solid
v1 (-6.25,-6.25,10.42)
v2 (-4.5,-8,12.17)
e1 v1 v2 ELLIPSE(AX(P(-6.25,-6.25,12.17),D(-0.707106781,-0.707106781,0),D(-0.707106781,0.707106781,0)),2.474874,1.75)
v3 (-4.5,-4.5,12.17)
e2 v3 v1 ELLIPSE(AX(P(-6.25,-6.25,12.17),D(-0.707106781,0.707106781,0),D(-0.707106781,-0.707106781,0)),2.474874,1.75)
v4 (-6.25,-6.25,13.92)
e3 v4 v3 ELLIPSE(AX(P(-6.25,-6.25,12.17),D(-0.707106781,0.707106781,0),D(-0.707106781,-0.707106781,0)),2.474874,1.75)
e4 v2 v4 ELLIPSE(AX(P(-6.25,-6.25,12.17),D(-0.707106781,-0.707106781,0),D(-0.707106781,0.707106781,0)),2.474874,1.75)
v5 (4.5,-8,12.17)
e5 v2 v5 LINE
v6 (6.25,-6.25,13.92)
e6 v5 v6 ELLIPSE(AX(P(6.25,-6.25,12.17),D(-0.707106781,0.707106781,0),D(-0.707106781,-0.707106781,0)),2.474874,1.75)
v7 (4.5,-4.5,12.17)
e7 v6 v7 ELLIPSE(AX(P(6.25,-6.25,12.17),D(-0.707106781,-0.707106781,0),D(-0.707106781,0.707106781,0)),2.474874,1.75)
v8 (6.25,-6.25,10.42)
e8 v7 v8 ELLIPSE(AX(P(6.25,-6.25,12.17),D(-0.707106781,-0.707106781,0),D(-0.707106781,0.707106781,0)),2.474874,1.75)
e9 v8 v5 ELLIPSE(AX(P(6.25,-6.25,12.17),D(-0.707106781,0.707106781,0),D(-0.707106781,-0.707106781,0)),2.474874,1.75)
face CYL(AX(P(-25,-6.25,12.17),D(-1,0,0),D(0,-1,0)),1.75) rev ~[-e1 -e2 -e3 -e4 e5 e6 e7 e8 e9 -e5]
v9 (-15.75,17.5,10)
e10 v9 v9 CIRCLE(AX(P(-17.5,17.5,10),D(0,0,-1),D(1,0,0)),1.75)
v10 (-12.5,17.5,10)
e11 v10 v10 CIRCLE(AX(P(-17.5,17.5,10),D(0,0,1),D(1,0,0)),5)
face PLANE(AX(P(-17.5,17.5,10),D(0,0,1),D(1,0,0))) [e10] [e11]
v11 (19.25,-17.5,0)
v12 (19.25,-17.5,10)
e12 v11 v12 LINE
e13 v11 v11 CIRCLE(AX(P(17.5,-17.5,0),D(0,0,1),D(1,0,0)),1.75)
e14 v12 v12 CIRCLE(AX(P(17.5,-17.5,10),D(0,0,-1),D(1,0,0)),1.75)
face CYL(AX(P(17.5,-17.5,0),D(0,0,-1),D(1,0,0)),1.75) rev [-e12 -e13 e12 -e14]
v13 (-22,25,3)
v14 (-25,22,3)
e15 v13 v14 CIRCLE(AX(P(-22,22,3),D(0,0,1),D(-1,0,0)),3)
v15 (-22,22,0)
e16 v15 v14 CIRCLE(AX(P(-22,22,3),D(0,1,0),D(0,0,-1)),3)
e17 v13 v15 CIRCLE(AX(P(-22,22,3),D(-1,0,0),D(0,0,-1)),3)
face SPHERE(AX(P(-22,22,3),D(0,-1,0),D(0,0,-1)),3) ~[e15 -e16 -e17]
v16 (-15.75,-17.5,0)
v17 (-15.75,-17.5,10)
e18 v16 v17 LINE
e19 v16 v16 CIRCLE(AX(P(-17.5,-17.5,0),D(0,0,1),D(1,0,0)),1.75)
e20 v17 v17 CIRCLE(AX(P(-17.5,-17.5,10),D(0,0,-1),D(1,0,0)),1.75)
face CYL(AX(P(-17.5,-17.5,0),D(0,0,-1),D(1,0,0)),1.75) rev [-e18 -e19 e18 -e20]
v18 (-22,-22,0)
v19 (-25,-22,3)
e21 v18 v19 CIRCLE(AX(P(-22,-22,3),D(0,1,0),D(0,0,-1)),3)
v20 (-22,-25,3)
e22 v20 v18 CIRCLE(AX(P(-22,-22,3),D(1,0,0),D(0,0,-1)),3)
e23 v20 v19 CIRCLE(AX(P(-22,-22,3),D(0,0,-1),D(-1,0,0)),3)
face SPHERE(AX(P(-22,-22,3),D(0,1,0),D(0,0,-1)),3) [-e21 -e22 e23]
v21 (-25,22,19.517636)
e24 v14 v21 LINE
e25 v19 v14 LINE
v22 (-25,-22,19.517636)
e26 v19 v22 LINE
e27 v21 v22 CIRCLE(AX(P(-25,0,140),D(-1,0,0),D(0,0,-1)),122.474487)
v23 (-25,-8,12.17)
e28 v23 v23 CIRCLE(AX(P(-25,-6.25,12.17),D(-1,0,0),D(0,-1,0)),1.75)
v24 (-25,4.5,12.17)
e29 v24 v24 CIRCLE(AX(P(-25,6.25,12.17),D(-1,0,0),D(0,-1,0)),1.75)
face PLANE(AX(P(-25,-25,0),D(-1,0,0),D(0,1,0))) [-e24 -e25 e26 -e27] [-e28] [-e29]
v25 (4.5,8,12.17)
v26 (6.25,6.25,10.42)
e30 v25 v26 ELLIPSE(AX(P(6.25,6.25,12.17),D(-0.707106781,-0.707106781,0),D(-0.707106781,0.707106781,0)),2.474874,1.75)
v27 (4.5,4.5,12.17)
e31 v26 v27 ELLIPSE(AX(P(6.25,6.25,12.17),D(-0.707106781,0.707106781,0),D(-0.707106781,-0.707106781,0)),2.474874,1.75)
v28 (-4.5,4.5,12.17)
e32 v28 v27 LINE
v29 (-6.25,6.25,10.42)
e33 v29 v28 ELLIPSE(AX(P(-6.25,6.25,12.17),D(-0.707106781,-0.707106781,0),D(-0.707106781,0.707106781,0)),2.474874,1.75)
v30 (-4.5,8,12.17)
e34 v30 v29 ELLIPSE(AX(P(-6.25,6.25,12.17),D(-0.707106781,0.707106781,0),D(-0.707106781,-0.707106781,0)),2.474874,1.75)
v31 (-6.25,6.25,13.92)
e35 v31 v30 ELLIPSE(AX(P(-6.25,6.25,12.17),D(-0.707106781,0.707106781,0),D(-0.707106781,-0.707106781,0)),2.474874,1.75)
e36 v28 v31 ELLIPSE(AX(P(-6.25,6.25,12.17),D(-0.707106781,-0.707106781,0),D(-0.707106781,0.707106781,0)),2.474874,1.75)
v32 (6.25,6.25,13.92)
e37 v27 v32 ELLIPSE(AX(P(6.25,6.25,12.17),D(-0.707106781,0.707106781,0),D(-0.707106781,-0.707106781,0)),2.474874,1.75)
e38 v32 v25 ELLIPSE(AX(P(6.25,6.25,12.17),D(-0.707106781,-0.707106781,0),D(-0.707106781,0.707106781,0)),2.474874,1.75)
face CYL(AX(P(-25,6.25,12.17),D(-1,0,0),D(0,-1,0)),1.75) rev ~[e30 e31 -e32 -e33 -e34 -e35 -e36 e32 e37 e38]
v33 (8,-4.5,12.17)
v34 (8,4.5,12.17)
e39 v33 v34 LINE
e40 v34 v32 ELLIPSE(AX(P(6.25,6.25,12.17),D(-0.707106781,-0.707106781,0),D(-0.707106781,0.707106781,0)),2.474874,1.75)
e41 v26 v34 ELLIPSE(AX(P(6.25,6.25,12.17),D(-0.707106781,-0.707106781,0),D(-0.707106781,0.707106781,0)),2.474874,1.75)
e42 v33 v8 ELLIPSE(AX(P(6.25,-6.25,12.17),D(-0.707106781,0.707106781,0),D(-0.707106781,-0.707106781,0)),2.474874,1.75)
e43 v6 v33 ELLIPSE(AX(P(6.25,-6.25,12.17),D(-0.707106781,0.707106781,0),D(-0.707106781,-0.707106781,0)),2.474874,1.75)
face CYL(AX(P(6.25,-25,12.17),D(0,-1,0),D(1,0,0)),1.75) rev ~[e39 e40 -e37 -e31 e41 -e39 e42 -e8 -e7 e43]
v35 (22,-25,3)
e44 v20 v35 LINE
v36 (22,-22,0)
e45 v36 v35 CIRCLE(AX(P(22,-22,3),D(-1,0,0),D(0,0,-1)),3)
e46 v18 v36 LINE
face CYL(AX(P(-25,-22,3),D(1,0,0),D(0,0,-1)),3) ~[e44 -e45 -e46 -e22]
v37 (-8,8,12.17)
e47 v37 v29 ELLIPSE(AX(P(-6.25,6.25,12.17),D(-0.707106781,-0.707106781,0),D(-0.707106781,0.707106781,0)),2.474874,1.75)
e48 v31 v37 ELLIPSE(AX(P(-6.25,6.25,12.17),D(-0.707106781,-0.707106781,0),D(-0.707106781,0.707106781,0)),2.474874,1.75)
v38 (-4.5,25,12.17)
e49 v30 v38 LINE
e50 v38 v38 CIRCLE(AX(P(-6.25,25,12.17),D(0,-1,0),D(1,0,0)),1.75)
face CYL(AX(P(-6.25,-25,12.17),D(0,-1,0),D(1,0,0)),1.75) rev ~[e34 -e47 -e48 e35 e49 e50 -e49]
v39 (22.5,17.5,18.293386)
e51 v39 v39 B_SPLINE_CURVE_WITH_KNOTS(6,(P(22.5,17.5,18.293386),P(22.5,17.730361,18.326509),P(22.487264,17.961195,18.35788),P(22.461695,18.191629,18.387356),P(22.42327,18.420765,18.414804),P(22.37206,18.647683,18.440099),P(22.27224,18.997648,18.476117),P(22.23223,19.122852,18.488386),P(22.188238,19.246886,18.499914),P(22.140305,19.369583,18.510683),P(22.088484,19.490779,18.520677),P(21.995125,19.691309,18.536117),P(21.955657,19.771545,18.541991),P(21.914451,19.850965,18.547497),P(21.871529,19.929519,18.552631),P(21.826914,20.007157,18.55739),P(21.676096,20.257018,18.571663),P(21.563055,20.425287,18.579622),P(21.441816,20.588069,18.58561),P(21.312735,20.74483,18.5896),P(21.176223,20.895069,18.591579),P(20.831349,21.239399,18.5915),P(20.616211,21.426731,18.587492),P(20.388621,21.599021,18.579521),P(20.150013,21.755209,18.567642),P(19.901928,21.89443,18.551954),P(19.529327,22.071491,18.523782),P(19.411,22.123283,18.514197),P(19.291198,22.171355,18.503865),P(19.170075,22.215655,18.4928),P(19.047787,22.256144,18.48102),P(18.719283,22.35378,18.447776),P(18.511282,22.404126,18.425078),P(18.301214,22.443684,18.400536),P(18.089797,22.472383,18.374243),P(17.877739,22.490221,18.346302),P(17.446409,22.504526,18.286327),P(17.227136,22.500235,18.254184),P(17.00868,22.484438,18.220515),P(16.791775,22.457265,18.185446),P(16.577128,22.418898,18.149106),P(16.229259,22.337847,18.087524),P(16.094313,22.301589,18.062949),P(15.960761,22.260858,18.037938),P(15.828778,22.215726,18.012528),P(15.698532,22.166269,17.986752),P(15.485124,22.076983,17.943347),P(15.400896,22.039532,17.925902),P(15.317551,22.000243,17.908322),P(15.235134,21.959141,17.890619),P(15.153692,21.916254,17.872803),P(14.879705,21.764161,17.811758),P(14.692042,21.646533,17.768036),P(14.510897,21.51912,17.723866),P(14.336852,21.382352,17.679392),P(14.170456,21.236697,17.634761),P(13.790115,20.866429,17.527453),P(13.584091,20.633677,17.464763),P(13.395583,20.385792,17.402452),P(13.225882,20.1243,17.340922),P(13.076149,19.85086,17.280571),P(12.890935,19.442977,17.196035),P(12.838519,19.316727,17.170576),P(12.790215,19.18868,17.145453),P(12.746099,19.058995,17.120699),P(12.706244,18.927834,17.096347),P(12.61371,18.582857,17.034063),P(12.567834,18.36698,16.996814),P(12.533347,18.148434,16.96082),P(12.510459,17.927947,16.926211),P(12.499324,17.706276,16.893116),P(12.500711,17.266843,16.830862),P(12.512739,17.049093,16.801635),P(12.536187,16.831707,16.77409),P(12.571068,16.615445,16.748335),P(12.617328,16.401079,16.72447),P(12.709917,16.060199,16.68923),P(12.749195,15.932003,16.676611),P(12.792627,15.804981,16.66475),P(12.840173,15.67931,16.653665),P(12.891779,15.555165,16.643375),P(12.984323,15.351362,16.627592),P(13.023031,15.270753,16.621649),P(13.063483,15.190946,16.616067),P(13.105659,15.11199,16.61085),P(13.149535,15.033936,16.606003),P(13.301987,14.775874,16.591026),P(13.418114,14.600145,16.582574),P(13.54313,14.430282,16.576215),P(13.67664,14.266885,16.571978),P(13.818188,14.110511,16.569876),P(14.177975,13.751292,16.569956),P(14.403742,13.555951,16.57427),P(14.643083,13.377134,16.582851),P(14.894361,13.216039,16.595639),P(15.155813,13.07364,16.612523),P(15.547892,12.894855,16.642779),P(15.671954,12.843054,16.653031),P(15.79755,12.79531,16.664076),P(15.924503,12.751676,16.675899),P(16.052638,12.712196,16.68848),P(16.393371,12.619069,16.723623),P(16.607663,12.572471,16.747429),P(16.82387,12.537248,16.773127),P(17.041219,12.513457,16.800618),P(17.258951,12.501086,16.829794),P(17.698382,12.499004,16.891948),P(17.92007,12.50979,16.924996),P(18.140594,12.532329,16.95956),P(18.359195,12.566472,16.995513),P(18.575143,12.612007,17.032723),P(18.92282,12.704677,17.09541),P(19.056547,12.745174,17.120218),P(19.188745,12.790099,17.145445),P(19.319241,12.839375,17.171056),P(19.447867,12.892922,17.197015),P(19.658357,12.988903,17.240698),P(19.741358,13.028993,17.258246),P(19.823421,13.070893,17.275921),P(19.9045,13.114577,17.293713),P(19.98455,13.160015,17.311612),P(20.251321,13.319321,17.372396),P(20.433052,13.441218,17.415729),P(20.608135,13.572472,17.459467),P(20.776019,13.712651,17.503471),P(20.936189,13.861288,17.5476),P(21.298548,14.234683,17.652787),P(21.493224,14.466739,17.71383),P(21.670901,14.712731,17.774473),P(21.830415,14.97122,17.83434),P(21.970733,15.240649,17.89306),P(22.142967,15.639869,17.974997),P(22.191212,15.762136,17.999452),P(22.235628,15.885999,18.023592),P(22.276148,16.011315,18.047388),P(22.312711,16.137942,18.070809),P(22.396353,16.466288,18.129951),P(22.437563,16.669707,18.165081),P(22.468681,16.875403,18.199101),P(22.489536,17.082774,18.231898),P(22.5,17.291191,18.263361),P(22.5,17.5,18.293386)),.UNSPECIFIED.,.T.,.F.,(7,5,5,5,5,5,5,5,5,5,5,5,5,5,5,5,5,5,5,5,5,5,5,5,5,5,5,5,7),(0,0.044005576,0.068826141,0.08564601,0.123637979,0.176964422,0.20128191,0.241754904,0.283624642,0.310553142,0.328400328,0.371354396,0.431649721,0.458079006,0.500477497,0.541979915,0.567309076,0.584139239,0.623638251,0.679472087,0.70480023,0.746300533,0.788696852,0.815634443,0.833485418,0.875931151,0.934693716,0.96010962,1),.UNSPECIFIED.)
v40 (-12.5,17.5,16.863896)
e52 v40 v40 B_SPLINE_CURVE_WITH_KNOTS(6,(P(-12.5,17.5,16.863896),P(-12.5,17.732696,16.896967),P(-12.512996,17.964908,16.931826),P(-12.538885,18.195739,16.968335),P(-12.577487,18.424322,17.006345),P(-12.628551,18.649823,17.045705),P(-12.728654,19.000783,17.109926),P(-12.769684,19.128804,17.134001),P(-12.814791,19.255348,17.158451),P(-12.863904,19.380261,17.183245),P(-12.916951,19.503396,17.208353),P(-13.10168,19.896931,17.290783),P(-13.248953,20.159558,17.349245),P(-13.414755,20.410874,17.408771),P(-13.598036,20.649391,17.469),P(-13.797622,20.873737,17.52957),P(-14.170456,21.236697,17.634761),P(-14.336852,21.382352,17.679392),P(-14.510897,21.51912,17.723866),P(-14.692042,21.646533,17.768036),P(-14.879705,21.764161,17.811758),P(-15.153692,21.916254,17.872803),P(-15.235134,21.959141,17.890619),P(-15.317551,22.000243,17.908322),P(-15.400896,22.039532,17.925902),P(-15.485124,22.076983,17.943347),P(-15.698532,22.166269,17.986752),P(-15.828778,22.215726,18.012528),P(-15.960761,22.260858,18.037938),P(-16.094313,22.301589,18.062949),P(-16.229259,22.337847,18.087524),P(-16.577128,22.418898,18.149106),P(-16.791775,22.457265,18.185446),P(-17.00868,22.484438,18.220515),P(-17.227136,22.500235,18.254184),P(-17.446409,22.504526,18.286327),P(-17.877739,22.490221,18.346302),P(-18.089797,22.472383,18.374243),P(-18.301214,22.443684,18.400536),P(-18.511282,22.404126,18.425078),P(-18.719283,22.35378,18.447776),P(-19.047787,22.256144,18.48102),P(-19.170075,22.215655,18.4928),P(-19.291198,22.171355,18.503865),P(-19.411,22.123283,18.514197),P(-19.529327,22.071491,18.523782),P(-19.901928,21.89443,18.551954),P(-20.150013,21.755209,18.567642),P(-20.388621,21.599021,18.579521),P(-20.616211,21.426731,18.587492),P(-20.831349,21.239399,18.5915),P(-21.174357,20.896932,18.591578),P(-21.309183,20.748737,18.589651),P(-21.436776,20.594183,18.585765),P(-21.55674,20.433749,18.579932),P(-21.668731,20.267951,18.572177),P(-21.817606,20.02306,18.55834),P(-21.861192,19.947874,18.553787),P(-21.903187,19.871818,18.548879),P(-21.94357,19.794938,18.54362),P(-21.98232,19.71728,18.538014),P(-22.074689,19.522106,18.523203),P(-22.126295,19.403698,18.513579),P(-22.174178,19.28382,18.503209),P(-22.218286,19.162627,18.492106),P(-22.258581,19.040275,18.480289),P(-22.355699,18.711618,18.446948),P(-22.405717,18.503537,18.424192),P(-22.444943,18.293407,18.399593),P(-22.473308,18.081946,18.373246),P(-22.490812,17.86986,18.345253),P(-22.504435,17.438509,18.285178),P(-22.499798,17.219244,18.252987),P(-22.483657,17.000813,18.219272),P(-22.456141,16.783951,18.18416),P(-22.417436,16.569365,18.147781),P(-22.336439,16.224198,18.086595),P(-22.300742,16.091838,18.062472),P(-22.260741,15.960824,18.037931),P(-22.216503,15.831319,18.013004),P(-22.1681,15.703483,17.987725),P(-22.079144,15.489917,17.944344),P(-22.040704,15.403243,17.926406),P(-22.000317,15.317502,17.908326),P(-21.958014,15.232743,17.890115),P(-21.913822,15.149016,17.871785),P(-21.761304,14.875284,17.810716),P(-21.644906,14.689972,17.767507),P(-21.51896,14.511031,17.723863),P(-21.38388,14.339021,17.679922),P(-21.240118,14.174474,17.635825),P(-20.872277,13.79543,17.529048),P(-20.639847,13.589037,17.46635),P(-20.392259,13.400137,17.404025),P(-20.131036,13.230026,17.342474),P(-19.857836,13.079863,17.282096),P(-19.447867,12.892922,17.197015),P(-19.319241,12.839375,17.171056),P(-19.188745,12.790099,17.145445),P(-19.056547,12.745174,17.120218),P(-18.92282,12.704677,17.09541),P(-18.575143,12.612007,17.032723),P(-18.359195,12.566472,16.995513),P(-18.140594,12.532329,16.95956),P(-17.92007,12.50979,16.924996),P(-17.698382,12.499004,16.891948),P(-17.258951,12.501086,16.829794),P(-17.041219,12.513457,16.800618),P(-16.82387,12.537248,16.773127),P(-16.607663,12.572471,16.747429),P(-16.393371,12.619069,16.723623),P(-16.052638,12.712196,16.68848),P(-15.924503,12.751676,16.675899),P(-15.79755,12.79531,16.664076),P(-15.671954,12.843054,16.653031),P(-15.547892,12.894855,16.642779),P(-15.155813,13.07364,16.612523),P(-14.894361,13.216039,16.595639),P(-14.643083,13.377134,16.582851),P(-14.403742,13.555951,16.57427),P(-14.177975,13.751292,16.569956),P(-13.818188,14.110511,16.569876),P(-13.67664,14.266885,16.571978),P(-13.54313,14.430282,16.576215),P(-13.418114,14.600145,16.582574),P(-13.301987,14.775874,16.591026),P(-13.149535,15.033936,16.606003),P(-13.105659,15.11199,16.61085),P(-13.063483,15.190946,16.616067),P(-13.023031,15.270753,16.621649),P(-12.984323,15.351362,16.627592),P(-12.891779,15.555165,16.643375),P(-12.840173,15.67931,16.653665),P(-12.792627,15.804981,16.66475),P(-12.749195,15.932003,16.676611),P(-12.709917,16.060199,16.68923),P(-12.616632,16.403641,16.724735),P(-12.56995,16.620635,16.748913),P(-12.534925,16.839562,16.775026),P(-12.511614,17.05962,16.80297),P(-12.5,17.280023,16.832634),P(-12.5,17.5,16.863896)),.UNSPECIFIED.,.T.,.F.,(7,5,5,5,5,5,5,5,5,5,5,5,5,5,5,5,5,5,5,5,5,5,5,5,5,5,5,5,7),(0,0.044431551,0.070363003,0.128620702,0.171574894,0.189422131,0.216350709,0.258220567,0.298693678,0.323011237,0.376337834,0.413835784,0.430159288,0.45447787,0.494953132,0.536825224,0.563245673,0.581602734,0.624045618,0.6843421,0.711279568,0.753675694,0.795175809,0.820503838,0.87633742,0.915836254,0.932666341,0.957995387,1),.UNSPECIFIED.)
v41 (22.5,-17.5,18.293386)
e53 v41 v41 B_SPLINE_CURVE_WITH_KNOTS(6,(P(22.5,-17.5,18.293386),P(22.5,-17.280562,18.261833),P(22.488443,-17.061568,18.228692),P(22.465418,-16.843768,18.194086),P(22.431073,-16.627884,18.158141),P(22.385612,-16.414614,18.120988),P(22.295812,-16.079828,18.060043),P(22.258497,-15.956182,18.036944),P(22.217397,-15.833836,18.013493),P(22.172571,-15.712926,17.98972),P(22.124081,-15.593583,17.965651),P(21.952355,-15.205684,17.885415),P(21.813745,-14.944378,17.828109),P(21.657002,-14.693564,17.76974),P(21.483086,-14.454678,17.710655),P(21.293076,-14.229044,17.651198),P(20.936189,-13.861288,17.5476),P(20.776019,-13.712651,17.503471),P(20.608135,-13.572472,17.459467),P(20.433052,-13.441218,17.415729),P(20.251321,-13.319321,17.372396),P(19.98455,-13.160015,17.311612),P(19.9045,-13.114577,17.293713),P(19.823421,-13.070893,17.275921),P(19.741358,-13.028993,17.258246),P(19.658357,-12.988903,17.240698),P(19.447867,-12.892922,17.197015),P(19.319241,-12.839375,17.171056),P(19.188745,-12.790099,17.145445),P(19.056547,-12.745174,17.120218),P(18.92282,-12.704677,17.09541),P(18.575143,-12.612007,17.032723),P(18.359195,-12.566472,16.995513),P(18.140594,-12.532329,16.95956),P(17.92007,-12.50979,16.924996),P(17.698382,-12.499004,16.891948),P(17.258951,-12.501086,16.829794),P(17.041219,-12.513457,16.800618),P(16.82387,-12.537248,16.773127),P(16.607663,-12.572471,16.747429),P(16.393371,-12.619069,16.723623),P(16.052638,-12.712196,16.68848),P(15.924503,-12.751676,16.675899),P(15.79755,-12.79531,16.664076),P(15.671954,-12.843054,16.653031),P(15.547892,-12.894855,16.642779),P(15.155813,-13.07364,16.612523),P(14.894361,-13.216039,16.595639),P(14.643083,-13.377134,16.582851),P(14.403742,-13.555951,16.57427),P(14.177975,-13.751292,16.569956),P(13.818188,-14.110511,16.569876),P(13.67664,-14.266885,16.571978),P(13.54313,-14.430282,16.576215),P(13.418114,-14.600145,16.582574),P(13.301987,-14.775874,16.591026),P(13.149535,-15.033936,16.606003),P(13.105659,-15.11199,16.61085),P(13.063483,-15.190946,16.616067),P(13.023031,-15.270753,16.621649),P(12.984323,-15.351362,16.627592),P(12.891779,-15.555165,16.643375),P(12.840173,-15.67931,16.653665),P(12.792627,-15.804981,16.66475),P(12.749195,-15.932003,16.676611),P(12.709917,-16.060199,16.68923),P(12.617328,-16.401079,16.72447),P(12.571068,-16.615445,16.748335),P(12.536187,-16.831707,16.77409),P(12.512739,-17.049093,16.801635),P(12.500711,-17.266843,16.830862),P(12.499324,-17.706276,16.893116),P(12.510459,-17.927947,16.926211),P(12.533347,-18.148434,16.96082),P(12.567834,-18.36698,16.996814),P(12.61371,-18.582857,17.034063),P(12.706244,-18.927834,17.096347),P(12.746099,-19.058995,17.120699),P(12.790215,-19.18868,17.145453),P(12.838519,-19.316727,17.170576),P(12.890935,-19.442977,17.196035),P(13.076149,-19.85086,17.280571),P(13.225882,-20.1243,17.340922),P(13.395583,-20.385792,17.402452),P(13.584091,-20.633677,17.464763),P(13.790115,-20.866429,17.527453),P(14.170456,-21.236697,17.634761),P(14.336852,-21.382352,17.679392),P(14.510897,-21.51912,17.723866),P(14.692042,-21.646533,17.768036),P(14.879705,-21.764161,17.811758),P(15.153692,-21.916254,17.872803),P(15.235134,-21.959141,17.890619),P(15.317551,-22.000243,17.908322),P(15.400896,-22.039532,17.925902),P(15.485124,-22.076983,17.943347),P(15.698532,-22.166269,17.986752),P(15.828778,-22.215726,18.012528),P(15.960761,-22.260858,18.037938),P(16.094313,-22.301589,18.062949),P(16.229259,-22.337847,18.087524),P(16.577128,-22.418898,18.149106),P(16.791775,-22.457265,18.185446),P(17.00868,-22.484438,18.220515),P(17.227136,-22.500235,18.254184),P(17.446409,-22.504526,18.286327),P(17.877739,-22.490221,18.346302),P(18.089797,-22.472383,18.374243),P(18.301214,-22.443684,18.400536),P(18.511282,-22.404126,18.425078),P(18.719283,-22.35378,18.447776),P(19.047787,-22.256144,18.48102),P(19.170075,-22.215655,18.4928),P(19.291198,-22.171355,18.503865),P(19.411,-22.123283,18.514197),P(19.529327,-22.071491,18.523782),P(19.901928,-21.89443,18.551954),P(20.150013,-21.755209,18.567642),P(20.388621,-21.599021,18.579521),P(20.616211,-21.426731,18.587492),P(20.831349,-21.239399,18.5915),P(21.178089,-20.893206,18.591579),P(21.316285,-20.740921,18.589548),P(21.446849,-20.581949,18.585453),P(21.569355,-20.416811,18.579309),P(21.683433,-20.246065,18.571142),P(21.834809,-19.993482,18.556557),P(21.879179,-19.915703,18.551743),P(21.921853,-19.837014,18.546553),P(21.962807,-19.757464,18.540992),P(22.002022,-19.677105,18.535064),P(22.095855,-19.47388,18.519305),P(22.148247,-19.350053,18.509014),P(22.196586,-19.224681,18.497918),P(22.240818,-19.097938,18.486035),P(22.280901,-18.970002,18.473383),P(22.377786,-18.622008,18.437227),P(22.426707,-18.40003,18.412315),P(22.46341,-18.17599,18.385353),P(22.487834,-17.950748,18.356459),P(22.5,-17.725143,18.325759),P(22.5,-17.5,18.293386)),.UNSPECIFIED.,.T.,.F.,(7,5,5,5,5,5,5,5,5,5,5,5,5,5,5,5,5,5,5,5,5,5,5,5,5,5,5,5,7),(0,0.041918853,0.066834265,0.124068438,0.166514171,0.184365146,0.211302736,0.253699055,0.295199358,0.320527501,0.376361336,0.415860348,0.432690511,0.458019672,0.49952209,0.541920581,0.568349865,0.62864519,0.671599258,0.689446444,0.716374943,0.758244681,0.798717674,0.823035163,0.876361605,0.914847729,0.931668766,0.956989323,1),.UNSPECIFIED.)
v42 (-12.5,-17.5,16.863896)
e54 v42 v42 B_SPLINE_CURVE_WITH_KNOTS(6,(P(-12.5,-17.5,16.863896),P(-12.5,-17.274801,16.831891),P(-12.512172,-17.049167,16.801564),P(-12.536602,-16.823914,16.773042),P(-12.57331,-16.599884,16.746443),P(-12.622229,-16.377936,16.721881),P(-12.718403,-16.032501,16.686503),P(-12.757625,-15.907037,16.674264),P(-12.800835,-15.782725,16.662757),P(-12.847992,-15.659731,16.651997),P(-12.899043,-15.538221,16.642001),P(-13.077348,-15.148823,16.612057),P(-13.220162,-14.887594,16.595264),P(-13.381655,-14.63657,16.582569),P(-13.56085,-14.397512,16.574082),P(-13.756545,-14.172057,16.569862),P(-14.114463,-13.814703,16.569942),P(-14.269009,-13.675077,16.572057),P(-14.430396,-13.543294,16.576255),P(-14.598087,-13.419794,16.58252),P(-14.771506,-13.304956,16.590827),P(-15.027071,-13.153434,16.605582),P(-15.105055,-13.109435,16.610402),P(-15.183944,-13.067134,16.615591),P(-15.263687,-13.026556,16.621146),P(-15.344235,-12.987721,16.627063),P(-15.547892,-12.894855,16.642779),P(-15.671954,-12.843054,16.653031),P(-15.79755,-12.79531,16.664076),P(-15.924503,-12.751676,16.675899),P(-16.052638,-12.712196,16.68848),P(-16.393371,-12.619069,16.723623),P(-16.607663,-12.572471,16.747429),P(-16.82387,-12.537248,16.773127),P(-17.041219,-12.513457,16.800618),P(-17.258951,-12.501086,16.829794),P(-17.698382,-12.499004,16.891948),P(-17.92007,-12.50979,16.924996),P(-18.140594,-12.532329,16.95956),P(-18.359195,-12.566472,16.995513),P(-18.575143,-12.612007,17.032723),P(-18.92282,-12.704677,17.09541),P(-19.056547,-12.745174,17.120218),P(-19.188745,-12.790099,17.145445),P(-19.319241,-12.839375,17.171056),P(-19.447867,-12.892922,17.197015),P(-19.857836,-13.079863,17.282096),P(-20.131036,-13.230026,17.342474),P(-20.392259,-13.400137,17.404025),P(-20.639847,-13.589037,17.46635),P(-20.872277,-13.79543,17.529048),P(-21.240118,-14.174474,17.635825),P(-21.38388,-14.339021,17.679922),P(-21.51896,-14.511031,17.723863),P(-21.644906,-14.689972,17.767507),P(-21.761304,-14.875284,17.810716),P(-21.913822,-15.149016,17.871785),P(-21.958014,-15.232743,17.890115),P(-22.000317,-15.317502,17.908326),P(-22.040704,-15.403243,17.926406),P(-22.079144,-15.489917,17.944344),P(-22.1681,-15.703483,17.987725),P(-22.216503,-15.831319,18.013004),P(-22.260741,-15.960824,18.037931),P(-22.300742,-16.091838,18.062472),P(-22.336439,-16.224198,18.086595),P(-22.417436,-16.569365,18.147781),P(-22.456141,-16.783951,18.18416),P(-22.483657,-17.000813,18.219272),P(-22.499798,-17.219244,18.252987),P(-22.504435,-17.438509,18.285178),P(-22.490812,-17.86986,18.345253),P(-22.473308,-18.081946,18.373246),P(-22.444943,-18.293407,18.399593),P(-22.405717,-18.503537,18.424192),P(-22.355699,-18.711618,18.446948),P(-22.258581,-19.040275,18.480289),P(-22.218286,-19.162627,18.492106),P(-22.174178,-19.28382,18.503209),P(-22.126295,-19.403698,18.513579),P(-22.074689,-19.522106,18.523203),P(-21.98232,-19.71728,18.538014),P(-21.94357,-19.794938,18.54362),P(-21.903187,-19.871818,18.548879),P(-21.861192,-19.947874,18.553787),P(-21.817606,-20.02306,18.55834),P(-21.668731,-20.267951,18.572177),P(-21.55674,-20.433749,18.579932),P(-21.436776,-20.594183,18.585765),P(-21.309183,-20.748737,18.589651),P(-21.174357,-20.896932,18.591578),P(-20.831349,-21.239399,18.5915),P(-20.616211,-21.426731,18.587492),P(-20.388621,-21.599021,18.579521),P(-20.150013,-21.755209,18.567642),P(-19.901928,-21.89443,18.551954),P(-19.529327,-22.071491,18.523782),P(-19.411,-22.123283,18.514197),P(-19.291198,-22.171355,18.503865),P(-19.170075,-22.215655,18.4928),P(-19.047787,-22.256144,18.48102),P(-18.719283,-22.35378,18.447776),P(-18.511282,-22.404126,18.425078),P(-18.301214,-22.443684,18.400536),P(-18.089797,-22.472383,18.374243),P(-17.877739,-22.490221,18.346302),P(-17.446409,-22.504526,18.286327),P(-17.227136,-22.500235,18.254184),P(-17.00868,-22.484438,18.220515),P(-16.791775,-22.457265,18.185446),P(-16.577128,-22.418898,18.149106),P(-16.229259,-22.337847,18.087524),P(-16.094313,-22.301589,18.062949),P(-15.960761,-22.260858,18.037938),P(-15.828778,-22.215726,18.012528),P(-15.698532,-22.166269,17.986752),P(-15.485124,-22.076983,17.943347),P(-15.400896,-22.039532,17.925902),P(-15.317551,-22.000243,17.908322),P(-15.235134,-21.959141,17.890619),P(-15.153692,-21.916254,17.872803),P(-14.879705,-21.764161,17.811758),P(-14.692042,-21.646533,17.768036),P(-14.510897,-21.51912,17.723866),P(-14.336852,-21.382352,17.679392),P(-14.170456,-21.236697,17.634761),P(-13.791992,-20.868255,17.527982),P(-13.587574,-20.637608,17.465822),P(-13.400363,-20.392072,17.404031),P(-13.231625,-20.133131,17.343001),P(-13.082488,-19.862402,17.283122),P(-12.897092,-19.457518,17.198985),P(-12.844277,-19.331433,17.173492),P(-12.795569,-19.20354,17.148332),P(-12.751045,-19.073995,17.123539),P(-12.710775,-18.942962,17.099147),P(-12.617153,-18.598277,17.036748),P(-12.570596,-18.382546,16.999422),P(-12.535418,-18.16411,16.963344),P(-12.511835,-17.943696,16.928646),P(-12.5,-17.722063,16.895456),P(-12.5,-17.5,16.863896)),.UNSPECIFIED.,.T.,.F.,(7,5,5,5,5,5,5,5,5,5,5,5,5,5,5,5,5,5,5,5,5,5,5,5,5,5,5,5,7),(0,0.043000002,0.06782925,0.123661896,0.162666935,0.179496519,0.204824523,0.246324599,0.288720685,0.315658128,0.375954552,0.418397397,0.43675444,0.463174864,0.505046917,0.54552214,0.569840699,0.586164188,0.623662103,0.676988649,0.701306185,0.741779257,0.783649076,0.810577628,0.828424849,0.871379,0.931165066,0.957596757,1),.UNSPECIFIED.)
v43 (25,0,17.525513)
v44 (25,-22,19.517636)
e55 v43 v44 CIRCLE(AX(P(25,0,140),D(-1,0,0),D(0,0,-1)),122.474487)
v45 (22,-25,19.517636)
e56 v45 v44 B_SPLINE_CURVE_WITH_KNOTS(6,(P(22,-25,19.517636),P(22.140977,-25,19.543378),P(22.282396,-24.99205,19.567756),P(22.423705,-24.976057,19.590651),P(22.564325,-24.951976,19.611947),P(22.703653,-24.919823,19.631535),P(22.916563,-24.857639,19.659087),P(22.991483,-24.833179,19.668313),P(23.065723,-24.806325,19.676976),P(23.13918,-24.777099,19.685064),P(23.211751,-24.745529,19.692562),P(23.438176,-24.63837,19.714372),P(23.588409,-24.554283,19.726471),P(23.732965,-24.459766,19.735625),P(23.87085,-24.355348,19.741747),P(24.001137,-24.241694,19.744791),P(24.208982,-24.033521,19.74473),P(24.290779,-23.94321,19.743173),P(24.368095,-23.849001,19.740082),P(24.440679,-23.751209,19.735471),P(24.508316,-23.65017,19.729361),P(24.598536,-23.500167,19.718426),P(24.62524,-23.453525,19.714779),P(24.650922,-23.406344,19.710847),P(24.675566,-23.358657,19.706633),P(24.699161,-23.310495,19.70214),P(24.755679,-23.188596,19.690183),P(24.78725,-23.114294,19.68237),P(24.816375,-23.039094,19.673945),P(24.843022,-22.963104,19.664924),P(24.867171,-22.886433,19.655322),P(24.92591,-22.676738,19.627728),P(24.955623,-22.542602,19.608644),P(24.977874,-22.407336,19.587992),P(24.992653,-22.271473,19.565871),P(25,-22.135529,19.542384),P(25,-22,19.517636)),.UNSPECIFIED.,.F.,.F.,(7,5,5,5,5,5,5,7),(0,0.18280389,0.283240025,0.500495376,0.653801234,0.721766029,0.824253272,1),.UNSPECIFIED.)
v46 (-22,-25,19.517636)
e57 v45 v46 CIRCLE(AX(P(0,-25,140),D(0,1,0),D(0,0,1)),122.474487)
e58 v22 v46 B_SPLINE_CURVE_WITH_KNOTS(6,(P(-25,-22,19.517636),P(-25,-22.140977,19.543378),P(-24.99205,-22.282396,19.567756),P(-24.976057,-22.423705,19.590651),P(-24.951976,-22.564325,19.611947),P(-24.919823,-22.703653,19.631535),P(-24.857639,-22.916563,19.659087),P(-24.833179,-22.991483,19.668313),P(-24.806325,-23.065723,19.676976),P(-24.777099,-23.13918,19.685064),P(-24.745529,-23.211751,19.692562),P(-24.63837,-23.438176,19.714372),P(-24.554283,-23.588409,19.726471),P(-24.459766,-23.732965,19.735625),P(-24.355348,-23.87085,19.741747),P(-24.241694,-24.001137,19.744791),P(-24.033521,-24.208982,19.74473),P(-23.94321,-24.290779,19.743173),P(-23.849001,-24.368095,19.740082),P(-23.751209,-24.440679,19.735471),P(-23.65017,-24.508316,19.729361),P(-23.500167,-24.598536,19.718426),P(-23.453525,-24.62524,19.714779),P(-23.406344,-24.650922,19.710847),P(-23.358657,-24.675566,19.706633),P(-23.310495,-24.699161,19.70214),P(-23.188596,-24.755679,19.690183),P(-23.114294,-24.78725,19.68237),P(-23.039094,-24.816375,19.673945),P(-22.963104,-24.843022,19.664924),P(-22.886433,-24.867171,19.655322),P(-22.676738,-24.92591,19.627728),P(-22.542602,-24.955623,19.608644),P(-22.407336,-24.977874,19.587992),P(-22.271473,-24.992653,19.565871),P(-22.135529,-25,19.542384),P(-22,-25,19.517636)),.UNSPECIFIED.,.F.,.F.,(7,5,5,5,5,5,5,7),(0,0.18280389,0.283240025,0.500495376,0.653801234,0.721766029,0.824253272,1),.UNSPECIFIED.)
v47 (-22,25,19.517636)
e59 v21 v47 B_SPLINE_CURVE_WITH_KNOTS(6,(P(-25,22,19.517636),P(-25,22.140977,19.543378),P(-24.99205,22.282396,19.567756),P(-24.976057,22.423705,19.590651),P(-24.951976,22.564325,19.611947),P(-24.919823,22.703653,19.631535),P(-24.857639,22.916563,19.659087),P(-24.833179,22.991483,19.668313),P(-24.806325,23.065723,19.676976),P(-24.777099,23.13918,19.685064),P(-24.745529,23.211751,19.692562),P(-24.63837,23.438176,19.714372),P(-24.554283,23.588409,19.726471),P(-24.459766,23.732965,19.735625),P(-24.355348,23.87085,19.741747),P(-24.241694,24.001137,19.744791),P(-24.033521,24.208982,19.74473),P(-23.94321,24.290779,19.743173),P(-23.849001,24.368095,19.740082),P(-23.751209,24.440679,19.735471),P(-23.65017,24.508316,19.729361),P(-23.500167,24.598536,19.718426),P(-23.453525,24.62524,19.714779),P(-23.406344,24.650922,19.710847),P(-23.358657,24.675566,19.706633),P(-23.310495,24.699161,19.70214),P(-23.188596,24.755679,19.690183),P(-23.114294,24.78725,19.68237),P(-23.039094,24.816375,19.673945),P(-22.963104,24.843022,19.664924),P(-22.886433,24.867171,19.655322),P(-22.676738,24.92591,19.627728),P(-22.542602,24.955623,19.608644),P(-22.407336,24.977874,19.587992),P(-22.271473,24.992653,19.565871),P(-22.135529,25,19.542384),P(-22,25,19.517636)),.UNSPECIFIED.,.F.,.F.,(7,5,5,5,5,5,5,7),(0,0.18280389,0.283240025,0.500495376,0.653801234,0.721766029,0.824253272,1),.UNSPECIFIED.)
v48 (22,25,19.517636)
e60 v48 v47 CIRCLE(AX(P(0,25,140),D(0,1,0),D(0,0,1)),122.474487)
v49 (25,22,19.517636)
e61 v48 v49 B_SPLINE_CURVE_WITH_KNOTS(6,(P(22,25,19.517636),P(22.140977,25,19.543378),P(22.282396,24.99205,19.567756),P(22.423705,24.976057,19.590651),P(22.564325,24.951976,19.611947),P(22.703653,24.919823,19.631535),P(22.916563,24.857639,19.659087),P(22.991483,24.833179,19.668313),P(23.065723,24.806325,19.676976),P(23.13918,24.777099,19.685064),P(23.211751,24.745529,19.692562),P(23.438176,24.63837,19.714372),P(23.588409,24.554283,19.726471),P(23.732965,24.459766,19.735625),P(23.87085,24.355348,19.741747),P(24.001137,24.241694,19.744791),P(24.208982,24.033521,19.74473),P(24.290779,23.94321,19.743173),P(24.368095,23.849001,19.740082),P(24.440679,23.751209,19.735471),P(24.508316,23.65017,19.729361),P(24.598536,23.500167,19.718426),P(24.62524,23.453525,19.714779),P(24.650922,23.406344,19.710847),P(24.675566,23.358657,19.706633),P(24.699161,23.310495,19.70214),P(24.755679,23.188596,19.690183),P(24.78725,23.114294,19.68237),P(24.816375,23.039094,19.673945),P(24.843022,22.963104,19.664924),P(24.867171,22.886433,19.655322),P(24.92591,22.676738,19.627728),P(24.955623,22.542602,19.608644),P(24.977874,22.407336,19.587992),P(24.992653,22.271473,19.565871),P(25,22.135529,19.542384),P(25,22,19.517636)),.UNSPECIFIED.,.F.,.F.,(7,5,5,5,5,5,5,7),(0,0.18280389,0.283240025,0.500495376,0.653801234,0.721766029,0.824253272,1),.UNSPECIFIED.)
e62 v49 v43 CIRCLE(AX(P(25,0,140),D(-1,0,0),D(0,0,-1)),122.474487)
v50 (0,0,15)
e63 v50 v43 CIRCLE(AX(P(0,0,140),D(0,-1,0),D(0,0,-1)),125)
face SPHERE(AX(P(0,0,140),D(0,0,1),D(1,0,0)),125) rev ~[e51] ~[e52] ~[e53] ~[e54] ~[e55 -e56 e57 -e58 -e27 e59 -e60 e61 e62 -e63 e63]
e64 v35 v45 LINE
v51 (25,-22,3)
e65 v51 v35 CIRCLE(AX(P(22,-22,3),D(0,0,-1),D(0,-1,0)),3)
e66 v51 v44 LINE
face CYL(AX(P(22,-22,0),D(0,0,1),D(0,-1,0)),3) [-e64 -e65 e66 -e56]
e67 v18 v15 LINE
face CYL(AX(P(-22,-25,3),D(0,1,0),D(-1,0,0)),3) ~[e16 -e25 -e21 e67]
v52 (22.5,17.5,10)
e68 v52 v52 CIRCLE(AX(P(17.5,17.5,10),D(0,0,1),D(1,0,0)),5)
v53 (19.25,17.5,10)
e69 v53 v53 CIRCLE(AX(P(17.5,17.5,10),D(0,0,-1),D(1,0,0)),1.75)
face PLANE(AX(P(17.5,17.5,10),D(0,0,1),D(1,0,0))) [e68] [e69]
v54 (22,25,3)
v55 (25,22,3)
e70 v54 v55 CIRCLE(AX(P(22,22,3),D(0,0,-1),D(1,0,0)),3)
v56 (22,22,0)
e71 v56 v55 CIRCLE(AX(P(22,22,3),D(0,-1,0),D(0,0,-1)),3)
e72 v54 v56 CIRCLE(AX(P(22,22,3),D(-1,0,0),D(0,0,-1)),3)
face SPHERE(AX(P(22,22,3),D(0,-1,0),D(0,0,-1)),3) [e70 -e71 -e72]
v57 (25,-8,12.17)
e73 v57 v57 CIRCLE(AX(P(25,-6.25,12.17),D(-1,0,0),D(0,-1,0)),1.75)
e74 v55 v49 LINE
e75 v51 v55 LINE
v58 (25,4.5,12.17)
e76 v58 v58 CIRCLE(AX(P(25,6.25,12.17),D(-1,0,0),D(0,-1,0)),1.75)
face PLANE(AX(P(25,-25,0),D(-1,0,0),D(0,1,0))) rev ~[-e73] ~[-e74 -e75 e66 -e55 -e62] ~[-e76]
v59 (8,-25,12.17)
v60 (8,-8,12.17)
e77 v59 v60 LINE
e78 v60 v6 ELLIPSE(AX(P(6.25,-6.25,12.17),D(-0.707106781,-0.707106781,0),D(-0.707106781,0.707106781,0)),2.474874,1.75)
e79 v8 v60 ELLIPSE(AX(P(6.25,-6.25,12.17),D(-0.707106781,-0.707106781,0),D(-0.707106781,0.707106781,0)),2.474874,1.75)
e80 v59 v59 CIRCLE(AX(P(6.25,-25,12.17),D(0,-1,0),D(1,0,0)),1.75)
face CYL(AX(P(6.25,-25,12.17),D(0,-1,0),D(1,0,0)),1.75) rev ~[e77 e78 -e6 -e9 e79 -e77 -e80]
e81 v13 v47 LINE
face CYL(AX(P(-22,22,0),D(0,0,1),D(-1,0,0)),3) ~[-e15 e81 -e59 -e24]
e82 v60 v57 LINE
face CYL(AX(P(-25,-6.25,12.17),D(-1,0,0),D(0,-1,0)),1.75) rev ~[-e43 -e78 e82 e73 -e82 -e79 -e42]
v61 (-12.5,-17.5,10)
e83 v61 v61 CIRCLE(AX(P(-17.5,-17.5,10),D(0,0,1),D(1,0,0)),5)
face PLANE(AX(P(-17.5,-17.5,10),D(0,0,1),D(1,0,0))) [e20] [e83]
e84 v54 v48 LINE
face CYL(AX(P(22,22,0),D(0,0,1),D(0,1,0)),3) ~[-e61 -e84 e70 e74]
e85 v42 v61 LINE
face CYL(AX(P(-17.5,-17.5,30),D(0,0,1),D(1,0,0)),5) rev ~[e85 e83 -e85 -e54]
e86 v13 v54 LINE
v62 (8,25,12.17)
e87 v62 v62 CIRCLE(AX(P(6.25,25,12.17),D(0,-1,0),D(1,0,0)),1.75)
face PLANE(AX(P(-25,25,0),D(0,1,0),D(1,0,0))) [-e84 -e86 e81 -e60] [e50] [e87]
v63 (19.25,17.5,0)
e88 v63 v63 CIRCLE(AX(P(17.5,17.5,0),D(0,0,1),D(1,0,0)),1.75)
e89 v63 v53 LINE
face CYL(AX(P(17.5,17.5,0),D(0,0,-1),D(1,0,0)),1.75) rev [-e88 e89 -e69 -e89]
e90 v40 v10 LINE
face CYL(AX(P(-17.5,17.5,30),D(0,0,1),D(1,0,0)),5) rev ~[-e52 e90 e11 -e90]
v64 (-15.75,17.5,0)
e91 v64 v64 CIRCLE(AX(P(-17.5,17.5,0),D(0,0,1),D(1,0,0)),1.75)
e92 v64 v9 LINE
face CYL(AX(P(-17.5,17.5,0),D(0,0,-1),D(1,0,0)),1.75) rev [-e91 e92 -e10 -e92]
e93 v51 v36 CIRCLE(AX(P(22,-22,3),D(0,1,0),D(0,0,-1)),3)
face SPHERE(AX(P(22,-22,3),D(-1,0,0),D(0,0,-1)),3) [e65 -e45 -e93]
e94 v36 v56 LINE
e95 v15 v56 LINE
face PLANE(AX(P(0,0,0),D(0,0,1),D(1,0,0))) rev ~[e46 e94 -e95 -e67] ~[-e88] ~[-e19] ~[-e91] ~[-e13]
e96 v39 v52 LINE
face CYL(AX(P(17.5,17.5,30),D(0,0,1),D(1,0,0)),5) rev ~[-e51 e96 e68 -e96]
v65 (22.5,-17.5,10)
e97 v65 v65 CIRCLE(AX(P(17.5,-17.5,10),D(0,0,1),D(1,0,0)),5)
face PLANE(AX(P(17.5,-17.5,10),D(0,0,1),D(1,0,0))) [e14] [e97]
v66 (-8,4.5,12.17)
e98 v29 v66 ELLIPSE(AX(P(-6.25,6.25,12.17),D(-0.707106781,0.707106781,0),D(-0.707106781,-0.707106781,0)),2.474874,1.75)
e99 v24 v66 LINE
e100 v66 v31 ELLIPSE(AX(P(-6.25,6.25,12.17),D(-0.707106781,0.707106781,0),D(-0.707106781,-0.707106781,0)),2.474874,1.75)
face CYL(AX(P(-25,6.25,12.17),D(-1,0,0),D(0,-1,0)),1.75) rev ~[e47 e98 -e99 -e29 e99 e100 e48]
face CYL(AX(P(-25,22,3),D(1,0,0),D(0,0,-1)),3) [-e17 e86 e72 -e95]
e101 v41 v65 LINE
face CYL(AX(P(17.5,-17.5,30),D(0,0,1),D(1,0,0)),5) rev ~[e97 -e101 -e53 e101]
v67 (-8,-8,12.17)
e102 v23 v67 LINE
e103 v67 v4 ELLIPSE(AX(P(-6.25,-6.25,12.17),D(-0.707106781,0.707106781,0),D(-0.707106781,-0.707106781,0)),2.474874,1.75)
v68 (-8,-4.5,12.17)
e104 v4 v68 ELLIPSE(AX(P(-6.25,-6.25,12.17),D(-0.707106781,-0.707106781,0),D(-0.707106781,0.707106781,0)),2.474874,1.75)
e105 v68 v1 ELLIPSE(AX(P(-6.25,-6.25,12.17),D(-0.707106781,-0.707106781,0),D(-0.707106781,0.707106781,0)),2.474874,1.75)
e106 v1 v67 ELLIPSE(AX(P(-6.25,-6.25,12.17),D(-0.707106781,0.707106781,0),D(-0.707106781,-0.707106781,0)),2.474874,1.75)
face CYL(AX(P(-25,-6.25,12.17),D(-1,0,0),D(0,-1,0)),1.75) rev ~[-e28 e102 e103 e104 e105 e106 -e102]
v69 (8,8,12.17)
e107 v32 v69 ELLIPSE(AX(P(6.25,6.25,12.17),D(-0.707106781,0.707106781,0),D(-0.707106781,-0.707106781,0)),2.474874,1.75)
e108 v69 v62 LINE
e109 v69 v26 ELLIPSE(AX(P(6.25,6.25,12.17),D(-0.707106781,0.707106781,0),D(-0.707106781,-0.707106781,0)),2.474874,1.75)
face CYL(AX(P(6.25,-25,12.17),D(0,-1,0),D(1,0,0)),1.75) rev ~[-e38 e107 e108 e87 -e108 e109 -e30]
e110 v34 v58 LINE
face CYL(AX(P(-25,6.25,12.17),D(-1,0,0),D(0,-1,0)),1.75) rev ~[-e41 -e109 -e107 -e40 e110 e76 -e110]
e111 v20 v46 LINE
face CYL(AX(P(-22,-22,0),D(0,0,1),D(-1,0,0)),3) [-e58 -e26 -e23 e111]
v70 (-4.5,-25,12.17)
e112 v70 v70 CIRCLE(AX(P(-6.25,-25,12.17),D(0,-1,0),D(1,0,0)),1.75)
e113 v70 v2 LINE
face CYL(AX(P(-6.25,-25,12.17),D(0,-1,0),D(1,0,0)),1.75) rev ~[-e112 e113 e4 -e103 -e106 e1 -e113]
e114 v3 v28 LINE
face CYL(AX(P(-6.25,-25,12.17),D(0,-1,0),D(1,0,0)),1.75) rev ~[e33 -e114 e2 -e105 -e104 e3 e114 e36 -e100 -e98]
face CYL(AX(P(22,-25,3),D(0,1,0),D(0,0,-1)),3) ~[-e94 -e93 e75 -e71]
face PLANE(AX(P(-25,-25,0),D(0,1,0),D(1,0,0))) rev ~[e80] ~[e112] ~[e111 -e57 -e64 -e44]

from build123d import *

# Parameters (mm, degrees)
F0_W      = 50
F0_H      = 50
F1_DEPTH  = 30
F4_R      = 1.75
F5_DEPTH  = 50.001
F6_R      = 1.75
F7_DEPTH  = 50.001
F8_R      = 1.75
F9_DEPTH  = 20.105212
F11_R     = 5
F12_DEPTH = 20
F13_R     = 3


with BuildPart() as f1:
    # F0 (on Top) → F1 (new body)
    with BuildSketch(Plane.XY):
        Rectangle(F0_W, F0_H)
    extrude(amount=F1_DEPTH)

    # F2 (on Front) → F3 (revolve, cut)
    with BuildSketch(Plane.XZ):
        with BuildLine():
            Line((0, 265), (0, 15))
            ThreePointArc((0, 15), (125, 140), (0, 265))
        make_face()
    revolve(axis=Axis((0, 0, 140), (0, 0, 1)), mode=Mode.SUBTRACT)

    # F4 (on face) → F5 (cut, through all)
    with BuildSketch(Plane(origin=(-25, 0, 0), x_dir=(0, -1, 0), z_dir=(-1, 0, 0))):
        with Locations((-6.25, 12.17)):
            Circle(F4_R)
        with Locations((6.25, 12.17)):
            Circle(F4_R)
    extrude(amount=-F5_DEPTH, mode=Mode.SUBTRACT)

    # F6 (on face) → F7 (cut, through all)
    with BuildSketch(Plane.XZ.offset(25)):
        with Locations((-6.25, 12.17)):
            Circle(F6_R)
        with Locations((6.25, 12.17)):
            Circle(F6_R)
    extrude(amount=-F7_DEPTH, mode=Mode.SUBTRACT)

    # F8 (on Top) → F9 (cut, through all)
    with BuildSketch(Plane.XY):
        with Locations((17.5, 17.5)):
            Circle(F8_R)
        with Locations((17.5, -17.5)):
            Circle(F8_R)
        with Locations((-17.5, 17.5)):
            Circle(F8_R)
        with Locations((-17.5, -17.5)):
            Circle(F8_R)
    extrude(amount=F9_DEPTH, mode=Mode.SUBTRACT)

    # F11 (on offset) → F12 (cut)
    with BuildSketch(Plane.XY.offset(30)):
        with Locations((-17.5, 17.5)):
            Circle(F11_R)
        with Locations((-17.5, -17.5)):
            Circle(F11_R)
        with Locations((17.5, 17.5)):
            Circle(F11_R)
        with Locations((17.5, -17.5)):
            Circle(F11_R)
    extrude(amount=-F12_DEPTH, mode=Mode.SUBTRACT)

    # F13
    f13_edges = [f1.edges().sort_by_distance(p)[0] for p in [
        (-25, 0, 0),
        (0, -25, 0),
        (25, 0, 0),
        (0, 25, 0),
        (25, -25, 10.052106),
        (25, 25, 10.052106),
        (-25, 25, 10.052106),
        (-25, -25, 10.052106),
    ]]
    fillet(f13_edges, radius=F13_R)


solid = f1.part
